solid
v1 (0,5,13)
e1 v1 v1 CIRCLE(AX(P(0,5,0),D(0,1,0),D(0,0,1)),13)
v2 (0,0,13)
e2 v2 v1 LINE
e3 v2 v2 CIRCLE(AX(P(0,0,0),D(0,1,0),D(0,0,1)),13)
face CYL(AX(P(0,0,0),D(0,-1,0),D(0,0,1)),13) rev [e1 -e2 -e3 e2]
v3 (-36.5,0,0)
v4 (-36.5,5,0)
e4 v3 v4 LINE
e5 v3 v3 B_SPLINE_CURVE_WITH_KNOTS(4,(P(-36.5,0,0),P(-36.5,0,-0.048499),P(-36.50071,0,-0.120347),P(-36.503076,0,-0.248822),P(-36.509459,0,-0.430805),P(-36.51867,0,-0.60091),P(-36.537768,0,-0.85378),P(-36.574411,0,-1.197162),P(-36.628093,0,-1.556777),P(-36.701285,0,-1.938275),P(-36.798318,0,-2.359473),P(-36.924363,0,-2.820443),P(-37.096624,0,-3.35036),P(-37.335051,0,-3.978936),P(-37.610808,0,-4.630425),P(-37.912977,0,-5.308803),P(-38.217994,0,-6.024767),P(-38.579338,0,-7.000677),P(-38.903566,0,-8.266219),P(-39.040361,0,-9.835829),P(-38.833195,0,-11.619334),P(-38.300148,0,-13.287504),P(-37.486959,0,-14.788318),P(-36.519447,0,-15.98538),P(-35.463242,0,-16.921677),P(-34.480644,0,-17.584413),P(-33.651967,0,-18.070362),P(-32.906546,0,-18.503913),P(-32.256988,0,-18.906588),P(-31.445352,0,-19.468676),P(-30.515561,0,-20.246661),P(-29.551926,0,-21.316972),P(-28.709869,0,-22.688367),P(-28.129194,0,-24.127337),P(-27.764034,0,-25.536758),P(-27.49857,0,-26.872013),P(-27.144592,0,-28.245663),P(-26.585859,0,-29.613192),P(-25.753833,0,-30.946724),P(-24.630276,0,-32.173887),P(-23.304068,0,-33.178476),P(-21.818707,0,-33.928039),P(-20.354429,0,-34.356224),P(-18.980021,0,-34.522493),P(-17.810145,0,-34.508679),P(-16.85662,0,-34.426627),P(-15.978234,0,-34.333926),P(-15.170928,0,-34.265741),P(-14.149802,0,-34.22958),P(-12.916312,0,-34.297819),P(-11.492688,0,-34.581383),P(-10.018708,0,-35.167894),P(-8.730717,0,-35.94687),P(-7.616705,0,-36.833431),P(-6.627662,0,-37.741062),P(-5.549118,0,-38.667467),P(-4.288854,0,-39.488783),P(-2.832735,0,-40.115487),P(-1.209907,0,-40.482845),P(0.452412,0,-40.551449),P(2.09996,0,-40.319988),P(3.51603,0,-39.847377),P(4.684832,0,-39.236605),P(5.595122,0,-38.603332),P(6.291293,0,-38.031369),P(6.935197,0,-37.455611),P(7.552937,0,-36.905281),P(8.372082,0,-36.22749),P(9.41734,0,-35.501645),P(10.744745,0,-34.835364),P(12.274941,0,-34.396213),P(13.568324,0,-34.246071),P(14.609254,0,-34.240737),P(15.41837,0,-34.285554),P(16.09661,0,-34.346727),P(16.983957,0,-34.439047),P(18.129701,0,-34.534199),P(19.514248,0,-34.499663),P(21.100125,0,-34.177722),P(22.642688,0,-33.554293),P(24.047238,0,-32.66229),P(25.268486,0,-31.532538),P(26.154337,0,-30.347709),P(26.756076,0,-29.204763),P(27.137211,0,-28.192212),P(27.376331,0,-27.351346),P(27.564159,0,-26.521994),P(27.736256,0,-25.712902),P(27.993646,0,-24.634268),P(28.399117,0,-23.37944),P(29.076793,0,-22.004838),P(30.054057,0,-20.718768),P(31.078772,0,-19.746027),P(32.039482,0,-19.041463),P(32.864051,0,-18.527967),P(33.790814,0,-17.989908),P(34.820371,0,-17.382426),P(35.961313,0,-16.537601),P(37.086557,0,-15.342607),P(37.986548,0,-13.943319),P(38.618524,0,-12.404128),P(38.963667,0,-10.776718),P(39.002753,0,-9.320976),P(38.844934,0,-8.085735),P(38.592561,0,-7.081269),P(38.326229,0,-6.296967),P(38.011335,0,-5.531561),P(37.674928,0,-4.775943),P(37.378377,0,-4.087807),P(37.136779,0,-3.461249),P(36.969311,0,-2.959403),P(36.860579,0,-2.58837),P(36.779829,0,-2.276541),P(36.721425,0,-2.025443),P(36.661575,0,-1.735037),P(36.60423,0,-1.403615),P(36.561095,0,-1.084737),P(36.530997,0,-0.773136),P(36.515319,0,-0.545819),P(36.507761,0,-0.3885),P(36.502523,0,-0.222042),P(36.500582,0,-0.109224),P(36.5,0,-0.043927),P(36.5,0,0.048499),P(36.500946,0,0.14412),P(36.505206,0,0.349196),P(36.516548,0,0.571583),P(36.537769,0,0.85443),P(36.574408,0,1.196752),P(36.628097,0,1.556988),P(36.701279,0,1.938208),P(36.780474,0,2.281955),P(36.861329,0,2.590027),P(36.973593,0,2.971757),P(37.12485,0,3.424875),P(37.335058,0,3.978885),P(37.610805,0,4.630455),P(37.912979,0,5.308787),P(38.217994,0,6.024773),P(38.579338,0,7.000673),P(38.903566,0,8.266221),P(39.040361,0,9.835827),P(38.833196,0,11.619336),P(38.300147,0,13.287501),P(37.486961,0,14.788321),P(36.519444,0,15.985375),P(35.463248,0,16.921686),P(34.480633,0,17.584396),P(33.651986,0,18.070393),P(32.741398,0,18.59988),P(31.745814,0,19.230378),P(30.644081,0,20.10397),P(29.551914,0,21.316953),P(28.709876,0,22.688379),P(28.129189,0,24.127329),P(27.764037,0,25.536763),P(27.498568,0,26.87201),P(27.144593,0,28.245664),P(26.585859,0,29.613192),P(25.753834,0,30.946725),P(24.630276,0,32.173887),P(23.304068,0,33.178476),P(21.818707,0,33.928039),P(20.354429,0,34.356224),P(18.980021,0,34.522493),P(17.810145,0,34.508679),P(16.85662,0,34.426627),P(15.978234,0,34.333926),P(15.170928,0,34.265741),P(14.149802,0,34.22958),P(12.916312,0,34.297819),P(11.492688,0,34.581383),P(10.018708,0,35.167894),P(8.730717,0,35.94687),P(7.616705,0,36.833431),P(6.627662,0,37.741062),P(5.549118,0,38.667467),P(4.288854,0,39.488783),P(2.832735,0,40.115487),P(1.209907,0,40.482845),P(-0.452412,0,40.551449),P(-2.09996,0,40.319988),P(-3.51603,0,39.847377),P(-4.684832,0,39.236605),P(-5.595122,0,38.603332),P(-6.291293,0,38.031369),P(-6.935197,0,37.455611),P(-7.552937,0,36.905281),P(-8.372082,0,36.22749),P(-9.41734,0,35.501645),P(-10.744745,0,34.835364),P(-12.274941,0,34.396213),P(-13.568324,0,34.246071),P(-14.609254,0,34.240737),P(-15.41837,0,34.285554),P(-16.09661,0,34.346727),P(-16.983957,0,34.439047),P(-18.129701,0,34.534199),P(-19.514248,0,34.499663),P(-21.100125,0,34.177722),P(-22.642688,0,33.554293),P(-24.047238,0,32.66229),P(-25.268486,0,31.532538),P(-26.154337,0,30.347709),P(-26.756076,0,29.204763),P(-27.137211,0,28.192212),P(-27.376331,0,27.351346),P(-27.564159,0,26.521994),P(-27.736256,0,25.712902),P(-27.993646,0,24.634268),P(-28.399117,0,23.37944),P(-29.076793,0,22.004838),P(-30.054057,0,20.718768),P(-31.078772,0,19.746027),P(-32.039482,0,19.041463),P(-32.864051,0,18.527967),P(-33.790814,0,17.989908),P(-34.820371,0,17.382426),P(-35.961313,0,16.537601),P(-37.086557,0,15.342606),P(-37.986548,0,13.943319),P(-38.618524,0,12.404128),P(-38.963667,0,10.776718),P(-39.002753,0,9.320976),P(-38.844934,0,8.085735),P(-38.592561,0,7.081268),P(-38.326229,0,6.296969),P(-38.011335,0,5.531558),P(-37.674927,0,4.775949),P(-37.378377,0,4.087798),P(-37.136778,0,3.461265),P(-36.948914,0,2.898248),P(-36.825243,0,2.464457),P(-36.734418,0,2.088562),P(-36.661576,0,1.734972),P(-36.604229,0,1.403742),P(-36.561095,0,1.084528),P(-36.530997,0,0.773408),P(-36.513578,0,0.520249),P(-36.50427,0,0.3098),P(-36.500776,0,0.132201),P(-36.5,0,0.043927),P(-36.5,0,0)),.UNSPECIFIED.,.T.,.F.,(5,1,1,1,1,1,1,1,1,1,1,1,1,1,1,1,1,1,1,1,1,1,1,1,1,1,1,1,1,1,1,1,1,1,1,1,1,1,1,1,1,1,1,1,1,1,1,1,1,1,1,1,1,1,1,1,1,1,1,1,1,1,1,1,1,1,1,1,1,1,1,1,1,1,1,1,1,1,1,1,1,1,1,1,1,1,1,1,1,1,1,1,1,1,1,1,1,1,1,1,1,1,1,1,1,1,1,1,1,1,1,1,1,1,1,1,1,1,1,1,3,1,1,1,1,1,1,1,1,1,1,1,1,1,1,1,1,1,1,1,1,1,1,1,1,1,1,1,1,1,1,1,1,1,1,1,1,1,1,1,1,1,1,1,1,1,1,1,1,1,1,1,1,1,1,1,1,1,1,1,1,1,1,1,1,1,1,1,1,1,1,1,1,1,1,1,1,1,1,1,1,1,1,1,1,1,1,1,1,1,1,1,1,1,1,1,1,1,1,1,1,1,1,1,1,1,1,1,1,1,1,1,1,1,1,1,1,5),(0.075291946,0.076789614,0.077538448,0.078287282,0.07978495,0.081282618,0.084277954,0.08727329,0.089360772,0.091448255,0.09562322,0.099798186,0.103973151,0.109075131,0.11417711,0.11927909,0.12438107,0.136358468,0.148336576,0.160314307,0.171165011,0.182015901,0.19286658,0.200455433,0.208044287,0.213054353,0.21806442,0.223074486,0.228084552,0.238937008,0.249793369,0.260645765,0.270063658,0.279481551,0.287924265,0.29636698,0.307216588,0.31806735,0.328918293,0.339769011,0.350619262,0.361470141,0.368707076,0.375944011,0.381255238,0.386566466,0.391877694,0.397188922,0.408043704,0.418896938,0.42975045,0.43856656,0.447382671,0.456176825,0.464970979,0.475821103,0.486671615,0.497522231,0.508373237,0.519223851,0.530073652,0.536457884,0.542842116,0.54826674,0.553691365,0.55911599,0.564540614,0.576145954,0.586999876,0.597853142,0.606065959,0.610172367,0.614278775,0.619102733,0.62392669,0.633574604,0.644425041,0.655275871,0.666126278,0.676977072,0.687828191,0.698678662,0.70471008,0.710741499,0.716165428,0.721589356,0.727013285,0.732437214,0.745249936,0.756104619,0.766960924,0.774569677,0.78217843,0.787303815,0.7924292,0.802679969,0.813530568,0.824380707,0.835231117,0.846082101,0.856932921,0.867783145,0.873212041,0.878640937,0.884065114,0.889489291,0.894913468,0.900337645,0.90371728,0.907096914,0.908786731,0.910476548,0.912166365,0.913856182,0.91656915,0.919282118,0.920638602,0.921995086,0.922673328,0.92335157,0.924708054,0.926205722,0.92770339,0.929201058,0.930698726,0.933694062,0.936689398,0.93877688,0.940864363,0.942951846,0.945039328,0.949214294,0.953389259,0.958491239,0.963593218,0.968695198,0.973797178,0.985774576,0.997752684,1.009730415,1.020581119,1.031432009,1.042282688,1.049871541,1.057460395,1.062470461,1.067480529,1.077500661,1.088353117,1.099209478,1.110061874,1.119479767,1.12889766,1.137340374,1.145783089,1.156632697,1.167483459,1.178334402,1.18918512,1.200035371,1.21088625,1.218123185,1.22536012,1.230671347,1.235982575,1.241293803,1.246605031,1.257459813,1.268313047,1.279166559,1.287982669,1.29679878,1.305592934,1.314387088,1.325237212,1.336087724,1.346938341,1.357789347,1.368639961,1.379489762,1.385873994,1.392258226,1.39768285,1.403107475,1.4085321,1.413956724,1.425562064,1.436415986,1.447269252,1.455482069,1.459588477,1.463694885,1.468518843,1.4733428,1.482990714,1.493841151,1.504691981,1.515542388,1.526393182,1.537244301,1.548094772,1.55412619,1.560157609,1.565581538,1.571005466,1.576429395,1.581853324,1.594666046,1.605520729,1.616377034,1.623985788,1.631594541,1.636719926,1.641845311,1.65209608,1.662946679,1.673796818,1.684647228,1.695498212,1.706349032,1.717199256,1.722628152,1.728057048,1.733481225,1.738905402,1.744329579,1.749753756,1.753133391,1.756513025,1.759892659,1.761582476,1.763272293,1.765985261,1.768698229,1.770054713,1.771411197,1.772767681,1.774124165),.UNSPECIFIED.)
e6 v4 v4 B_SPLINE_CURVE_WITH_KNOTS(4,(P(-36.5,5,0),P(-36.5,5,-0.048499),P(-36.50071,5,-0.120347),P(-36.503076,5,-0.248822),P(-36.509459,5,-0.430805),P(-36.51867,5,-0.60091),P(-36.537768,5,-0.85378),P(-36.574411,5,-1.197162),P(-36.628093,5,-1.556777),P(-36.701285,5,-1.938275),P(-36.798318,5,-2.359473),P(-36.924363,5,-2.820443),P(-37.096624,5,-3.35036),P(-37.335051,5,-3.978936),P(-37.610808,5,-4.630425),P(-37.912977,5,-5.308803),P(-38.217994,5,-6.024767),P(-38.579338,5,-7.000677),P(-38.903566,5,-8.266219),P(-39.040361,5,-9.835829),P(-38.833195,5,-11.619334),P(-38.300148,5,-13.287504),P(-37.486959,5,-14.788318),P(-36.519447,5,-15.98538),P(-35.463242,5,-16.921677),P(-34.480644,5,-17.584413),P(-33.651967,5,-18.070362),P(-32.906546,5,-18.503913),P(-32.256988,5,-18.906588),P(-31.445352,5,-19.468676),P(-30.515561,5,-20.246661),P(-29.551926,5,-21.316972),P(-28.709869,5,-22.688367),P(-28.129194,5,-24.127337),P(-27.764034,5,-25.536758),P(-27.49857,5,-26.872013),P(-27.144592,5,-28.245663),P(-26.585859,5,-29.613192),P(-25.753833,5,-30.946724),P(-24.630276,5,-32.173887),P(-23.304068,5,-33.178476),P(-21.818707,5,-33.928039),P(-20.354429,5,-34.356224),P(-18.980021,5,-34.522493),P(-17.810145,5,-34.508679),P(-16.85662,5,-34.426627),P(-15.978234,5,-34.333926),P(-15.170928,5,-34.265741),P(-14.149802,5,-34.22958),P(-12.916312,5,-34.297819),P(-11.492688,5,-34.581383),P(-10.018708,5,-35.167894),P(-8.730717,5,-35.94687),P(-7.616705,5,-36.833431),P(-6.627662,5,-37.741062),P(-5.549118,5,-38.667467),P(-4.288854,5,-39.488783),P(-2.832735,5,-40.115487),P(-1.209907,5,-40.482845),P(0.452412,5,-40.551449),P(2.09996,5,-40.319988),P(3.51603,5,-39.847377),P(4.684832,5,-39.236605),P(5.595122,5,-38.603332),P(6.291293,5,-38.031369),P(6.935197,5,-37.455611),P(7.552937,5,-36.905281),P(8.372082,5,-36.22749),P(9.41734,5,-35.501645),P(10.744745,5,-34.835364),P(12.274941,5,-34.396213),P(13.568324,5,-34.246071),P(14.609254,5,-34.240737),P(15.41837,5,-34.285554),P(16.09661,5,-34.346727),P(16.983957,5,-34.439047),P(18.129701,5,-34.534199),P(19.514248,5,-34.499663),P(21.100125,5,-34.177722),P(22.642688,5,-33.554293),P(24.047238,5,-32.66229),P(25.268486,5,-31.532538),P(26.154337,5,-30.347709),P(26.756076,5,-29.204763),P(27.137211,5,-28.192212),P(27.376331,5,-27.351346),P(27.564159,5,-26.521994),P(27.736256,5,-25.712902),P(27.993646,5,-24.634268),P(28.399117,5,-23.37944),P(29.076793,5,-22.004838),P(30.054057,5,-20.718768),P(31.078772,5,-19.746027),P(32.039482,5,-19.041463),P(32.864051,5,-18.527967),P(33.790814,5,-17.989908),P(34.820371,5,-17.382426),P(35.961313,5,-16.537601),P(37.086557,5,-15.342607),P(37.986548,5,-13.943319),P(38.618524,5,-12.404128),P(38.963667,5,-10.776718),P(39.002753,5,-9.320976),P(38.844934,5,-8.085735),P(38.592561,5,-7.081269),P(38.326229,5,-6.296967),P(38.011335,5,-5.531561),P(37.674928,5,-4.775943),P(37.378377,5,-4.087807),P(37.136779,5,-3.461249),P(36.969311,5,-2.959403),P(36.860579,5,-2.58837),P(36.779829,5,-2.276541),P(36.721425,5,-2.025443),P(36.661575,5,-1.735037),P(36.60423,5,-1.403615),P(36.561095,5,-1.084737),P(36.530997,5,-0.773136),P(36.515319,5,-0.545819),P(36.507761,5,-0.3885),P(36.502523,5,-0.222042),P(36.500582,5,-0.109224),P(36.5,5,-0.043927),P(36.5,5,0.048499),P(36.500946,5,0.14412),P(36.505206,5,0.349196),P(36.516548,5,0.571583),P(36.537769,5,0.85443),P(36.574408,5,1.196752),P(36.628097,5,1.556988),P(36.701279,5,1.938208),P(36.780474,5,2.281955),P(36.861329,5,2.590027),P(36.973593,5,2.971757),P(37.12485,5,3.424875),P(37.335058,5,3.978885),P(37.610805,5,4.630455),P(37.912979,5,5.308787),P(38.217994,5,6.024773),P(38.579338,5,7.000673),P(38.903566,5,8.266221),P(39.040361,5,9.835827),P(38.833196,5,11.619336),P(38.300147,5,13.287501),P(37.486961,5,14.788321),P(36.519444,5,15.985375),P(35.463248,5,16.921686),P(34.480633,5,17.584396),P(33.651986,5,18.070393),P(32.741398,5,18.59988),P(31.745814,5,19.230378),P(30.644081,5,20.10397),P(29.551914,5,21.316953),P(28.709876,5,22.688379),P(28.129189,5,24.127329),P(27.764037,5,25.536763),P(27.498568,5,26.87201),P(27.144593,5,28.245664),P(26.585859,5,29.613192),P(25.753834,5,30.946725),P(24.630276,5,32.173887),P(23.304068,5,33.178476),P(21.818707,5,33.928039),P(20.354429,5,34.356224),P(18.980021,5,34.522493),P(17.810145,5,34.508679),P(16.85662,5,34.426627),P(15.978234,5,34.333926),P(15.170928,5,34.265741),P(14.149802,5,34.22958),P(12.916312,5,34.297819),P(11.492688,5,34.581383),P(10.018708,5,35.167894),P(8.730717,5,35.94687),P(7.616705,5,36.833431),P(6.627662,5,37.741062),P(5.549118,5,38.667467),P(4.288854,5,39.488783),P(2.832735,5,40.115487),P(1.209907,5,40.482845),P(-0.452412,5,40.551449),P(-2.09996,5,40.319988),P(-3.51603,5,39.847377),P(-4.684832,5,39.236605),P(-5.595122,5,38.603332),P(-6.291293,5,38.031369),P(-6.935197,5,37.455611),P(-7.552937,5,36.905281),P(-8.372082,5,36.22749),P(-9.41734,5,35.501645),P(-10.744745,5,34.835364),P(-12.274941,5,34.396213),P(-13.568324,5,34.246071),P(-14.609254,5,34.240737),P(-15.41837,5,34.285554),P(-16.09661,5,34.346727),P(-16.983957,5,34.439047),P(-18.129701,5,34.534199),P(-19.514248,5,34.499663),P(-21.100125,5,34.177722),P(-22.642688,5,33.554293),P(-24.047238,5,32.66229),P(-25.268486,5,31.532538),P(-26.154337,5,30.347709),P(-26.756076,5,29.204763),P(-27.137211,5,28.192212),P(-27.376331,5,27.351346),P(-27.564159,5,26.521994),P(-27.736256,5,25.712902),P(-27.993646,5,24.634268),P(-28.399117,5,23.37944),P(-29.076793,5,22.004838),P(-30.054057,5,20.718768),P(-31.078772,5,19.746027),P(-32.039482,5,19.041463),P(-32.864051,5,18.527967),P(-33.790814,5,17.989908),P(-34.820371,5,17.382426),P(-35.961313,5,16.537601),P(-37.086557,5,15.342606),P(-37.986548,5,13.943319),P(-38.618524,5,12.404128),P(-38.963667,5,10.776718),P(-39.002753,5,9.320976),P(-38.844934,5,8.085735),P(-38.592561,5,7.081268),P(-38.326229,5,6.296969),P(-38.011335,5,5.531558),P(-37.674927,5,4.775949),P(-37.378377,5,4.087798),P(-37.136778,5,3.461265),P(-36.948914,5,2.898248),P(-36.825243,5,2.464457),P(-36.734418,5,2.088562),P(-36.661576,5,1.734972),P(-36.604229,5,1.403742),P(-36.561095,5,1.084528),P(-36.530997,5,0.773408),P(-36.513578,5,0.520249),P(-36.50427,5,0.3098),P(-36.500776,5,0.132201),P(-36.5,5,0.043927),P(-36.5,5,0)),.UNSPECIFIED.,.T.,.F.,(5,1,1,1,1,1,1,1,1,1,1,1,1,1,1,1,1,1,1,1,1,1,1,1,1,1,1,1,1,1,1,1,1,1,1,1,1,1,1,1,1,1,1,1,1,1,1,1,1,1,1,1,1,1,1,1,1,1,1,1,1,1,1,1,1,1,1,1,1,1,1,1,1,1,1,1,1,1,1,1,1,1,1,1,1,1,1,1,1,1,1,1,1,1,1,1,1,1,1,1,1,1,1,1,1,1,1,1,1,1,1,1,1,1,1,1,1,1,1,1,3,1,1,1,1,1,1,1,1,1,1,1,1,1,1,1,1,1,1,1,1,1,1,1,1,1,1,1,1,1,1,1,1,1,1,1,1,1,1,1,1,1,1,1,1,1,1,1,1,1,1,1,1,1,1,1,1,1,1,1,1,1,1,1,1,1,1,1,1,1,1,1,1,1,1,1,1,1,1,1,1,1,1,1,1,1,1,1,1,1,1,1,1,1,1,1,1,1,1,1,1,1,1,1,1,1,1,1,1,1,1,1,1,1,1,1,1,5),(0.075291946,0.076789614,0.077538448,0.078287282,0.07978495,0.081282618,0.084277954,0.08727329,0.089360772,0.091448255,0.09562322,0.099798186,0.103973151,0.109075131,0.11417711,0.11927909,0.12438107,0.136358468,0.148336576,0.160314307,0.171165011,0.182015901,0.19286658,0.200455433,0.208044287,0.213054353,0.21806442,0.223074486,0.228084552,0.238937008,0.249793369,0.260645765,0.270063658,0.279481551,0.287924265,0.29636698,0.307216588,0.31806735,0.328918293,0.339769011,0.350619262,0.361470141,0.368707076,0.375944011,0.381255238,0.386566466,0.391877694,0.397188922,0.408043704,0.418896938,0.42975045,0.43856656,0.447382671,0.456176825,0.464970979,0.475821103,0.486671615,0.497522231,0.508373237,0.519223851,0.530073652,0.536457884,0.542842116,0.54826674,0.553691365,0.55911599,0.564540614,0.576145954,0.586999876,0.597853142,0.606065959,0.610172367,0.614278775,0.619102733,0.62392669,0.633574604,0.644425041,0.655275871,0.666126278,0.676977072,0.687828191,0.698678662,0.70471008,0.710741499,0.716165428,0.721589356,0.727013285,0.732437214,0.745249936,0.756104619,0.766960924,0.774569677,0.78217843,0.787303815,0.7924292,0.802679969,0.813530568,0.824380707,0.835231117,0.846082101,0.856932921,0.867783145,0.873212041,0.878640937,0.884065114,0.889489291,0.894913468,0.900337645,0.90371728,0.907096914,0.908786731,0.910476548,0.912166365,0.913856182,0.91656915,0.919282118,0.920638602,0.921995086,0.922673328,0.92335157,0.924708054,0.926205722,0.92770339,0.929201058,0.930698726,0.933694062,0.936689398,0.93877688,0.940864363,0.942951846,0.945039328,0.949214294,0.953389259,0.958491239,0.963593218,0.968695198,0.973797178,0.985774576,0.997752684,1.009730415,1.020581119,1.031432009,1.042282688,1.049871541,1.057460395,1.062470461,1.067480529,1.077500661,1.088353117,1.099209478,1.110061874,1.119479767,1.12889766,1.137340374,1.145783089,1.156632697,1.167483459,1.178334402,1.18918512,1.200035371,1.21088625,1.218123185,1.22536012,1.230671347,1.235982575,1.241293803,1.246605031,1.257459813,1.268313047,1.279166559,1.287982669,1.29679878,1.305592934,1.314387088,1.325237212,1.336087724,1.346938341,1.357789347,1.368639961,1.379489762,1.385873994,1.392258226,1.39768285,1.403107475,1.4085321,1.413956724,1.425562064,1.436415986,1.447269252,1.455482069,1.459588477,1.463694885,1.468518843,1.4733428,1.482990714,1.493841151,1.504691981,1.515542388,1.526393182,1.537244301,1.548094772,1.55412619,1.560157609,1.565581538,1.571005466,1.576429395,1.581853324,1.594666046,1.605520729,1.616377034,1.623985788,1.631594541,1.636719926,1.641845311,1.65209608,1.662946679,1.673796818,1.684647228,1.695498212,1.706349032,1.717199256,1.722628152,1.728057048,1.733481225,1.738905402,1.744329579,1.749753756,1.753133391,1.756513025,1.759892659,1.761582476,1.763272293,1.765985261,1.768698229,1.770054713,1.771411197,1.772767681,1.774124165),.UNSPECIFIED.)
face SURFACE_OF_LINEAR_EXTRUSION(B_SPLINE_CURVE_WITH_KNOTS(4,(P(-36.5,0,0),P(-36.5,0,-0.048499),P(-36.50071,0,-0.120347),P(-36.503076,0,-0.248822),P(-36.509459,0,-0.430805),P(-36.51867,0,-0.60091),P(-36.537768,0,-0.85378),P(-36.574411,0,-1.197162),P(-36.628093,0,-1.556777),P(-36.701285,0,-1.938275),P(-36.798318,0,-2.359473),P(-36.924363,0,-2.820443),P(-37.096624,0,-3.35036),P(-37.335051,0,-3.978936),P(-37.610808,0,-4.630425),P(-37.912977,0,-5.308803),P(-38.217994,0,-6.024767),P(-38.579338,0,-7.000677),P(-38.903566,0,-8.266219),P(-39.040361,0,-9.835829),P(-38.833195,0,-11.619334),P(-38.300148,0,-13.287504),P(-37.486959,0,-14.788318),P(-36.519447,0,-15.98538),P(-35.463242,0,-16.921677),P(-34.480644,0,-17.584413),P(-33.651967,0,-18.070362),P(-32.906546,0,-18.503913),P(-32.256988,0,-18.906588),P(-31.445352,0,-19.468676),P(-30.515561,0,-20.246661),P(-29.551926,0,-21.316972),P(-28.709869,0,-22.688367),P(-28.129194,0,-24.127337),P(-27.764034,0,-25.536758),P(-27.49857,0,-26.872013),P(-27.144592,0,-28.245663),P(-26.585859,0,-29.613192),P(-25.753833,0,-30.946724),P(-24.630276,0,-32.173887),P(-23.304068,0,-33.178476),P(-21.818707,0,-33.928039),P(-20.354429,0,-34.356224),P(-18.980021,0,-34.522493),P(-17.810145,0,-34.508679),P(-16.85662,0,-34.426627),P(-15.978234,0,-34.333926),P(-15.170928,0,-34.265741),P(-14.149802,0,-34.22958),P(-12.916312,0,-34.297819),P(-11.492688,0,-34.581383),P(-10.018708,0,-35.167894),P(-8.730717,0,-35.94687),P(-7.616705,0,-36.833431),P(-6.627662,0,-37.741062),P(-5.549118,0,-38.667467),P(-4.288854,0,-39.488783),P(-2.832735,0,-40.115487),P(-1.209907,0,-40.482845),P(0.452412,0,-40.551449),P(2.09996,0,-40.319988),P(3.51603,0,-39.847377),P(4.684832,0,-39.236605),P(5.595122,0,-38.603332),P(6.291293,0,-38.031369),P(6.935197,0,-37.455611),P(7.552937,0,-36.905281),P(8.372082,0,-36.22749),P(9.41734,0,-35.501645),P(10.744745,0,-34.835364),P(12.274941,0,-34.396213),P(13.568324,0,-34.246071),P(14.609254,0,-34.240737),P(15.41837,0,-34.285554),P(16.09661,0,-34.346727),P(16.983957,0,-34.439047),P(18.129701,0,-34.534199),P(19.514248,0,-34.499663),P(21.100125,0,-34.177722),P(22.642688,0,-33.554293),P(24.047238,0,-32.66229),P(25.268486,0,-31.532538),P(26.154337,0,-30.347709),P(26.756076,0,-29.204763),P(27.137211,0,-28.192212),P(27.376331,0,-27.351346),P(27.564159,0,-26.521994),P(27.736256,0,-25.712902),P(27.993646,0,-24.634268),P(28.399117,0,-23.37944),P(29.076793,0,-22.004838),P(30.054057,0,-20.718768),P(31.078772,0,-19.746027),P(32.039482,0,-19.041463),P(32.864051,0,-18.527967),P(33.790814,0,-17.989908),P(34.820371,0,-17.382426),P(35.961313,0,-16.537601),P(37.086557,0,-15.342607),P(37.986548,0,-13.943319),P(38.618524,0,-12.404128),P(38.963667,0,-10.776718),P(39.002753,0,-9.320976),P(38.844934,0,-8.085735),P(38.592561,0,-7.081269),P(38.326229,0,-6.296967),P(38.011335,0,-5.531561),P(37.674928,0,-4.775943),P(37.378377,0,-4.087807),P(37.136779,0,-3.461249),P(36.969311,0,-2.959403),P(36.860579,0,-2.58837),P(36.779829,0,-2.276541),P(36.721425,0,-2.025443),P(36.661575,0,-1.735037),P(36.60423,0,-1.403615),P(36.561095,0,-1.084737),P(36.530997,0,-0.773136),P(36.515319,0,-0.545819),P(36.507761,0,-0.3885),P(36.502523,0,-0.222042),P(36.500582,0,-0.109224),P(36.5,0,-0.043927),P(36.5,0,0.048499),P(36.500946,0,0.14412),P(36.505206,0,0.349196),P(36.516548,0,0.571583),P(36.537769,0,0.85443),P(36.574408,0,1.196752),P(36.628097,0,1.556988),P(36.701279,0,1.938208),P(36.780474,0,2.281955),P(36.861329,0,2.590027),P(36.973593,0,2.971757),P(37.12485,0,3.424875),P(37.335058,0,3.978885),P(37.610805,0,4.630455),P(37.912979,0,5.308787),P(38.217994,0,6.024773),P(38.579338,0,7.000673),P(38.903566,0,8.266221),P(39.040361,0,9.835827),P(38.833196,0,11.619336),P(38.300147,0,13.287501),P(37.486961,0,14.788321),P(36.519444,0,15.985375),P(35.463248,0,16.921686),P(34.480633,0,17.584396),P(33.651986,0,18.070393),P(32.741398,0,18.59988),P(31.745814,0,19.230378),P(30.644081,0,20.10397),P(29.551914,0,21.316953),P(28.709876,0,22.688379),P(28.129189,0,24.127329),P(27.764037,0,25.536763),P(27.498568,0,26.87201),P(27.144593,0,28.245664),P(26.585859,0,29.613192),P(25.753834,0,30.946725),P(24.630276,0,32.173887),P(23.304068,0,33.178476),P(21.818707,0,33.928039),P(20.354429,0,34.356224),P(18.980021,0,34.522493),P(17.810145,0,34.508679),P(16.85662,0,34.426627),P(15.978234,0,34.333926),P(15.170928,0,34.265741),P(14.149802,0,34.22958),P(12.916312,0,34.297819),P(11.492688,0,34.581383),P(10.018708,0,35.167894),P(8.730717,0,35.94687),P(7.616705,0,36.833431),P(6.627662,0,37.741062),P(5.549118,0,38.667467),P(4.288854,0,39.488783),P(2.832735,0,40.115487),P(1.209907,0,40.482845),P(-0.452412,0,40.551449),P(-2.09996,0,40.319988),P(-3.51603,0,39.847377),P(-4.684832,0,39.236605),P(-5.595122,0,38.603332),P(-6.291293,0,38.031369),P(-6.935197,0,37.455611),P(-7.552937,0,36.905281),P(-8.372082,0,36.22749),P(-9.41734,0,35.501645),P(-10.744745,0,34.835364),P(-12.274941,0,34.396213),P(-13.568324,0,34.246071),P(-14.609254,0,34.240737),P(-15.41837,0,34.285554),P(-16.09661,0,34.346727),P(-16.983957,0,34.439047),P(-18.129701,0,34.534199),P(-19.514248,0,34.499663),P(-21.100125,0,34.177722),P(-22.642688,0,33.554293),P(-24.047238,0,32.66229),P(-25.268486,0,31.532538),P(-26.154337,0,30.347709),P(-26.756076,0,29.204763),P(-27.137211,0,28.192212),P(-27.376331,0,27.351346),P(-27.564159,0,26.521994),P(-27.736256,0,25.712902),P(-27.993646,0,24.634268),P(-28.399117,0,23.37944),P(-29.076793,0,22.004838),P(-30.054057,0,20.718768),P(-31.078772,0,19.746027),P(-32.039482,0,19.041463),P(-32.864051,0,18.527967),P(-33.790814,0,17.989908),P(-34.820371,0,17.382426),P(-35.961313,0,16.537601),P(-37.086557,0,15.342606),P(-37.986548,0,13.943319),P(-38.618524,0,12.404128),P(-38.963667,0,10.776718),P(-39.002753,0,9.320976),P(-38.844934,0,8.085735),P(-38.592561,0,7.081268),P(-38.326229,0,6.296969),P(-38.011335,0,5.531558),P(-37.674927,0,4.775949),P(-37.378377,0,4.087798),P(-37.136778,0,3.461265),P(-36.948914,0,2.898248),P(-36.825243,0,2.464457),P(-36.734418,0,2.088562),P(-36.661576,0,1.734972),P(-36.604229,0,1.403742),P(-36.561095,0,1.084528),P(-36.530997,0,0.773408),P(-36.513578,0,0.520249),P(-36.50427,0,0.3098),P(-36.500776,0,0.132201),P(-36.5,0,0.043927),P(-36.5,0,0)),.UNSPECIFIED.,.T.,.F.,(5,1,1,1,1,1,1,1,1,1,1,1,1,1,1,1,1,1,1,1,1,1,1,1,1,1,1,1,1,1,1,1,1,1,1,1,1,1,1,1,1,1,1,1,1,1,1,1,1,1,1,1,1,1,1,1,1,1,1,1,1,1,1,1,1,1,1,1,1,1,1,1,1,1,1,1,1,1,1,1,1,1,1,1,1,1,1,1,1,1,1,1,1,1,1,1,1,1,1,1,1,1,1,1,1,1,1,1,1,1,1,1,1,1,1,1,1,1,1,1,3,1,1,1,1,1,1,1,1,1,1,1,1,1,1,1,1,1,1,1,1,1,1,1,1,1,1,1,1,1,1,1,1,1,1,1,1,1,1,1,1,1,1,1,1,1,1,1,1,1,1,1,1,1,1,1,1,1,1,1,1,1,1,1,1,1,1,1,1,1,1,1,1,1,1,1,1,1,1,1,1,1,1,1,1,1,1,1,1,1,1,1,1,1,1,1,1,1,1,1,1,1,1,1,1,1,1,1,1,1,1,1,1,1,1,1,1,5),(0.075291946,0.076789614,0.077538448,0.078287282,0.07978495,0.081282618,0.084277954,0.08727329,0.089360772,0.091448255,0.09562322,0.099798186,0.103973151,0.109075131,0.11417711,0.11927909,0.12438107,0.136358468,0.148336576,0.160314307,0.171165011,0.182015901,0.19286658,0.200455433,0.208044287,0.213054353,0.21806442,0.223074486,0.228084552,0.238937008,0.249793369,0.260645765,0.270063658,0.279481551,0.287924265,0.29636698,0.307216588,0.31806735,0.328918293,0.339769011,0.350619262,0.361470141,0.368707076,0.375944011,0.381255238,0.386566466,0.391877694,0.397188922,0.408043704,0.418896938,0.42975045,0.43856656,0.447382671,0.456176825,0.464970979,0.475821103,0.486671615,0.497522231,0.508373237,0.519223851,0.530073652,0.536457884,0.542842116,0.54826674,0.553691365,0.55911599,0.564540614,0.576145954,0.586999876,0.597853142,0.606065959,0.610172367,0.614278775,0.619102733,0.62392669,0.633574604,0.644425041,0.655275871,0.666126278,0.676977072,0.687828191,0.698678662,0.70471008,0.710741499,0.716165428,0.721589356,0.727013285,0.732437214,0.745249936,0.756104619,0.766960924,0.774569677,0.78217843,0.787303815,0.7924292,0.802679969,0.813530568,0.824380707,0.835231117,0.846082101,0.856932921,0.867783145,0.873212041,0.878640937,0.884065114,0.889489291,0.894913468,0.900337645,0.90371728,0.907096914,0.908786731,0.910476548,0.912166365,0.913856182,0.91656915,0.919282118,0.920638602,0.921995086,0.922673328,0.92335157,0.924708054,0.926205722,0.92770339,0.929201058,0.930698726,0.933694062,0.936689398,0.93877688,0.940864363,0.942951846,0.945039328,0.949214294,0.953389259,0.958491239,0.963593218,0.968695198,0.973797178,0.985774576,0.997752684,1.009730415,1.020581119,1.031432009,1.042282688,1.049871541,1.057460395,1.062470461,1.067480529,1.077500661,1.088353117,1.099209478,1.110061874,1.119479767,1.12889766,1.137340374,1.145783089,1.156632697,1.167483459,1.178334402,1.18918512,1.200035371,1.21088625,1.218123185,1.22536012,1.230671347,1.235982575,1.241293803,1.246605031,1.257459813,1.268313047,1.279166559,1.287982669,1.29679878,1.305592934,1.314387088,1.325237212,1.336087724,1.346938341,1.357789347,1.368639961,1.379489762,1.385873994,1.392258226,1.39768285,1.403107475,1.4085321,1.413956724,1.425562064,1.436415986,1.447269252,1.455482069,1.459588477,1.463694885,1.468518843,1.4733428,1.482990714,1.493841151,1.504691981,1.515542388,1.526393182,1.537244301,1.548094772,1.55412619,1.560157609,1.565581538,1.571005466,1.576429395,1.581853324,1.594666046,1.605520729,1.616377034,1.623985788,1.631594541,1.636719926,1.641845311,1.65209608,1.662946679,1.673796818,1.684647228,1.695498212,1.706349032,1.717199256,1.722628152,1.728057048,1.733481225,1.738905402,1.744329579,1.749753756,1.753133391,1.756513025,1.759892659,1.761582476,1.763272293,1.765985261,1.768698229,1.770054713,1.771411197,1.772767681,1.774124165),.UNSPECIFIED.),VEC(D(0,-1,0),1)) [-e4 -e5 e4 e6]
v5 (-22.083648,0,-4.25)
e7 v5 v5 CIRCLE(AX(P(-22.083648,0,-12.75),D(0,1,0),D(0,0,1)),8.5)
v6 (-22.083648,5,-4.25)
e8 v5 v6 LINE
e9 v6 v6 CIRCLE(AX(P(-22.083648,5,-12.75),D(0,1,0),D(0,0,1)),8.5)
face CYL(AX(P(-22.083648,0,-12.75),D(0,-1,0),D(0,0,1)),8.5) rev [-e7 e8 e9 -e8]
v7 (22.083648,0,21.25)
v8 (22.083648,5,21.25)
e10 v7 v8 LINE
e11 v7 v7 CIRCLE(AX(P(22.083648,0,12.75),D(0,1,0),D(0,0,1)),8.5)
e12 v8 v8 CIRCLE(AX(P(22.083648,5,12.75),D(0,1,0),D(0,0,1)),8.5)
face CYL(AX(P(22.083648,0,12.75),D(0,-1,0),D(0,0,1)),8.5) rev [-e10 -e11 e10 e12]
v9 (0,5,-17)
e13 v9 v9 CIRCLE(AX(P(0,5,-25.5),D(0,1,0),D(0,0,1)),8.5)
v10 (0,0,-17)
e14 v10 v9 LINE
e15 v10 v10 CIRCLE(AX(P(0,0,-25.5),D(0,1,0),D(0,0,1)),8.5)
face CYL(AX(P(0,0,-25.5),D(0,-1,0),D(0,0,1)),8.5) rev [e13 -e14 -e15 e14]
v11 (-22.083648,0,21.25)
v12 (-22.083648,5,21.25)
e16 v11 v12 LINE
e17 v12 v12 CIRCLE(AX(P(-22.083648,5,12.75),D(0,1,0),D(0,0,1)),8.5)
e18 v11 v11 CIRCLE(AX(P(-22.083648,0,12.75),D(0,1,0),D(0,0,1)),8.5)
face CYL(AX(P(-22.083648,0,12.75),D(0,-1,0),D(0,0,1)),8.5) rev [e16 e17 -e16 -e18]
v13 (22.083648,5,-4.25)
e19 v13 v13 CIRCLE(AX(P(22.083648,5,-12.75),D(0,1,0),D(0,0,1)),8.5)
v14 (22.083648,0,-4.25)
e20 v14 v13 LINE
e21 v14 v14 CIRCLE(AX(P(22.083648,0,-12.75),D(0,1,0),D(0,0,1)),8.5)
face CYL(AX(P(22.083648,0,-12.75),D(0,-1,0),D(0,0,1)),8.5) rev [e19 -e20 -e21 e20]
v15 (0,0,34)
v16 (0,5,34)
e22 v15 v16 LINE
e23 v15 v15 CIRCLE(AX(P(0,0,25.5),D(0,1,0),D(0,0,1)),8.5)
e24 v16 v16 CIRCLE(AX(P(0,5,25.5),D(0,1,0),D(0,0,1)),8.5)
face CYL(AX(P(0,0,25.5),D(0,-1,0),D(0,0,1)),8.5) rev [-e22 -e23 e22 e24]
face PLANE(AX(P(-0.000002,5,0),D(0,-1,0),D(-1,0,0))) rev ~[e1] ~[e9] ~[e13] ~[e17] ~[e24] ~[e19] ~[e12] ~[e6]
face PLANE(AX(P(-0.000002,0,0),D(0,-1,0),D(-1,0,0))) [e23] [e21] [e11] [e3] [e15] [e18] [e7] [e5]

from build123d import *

# Parameters (mm, degrees)
SKETCH1_R           = 13
SKETCH1_R_2         = 8.5
BOSS_EXTRUDE1_DEPTH = 5


with BuildPart() as part:
    # Sketch1 → Boss-Extrude1 (new body)
    with BuildSketch(Plane(origin=(0, 0, 0), x_dir=(1, 0, 0), z_dir=(0, 1, 0))):
        with BuildLine():
            add(Edge.make_bspline(
                [(36.5, 0), (36.5, -0.048499305), (36.500946474, -0.144120136), (36.505205639, -0.349195993), (36.516548144, -0.571582738), (36.53776893, -0.854430115), (36.574407998, -1.196752002), (36.62809738, -1.556988295), (36.70127876, -1.938208043), (36.78047365, -2.281954505), (36.861329003, -2.590026625), (36.973593296, -2.971756615), (37.124850001, -3.424875263), (37.335057521, -3.978884819), (37.610804689, -4.630454515), (37.912979272, -5.308786827), (38.217993537, -6.024773331), (38.579337976, -7.000673113), (38.903566381, -8.266221267), (39.040360932, -9.835827251), (38.833195825, -11.619336074), (38.300146641, -13.287501244), (37.486961222, -14.788321278), (36.519443961, -15.985374971), (35.463247749, -16.921686084), (34.480633006, -17.584395869), (33.651986164, -18.070393448), (32.741397785, -18.599880286), (31.745814237, -19.23037768), (30.644081106, -20.103969946), (29.551914438, -21.316953148), (28.709876259, -22.688378726), (28.129188952, -24.127329092), (27.764036764, -25.53676255), (27.498568237, -26.872010136), (27.14459296, -28.24566423), (26.585858616, -29.613191611), (25.753833767, -30.946724523), (24.630275661, -32.173887031), (23.304067671, -33.178476098), (21.818707229, -33.928039056), (20.354428633, -34.356223626), (18.980021188, -34.522492919), (17.810145148, -34.508679014), (16.856619883, -34.426627197), (15.978233577, -34.333926373), (15.170927755, -34.265741371), (14.149802015, -34.229580128), (12.916311546, -34.297819177), (11.49268827, -34.581382628), (10.018707632, -35.167894044), (8.730716825, -35.94686999), (7.616704888, -36.833430943), (6.627661642, -37.741061624), (5.549118095, -38.667467053), (4.288853719, -39.488783224), (2.83273482, -40.115486753), (1.209906645, -40.482844808), (-0.452411505, -40.551448925), (-2.099959875, -40.319988007), (-3.516029788, -39.847376882), (-4.684831629, -39.236604984), (-5.595122009, -38.603332332), (-6.291293195, -38.03136891), (-6.935196982, -37.455611034), (-7.552937159, -36.905280935), (-8.3720822, -36.227490452), (-9.417339699, -35.501645102), (-10.744745036, -34.835364198), (-12.274940897, -34.396213159), (-13.568324156, -34.246071291), (-14.609253635, -34.240736665), (-15.418369646, -34.285553755), (-16.096609715, -34.346726816), (-16.983957337, -34.439047454), (-18.129700574, -34.534198807), (-19.514247662, -34.499663354), (-21.100124923, -34.177722278), (-22.642688121, -33.554292595), (-24.047237509, -32.662289917), (-25.268485598, -31.532537595), (-26.154336533, -30.347709032), (-26.756076077, -29.20476342), (-27.137211283, -28.192212286), (-27.376331213, -27.351346043), (-27.564158904, -26.521994318), (-27.736255611, -25.71290243), (-27.9936462, -24.634267957), (-28.399117079, -23.379440462), (-29.076792687, -22.004837755), (-30.054056647, -20.718767709), (-31.078771932, -19.746027017), (-32.039482, -19.04146275), (-32.864050638, -18.52796692), (-33.790814113, -17.989908183), (-34.820371489, -17.38242567), (-35.961313043, -16.537601472), (-37.086556652, -15.342606474), (-37.986548491, -13.943319085), (-38.618524242, -12.404128407), (-38.963667013, -10.776717844), (-39.002753109, -9.320975979), (-38.844934454, -8.085734909), (-38.592561063, -7.081267912), (-38.326228914, -6.29696863), (-38.011335485, -5.531557624), (-37.674927383, -4.77594876), (-37.378377228, -4.087797522), (-37.136778411, -3.461265107), (-36.948914251, -2.898248212), (-36.825242681, -2.464456921), (-36.734418474, -2.088562142), (-36.661575892, -1.734972023), (-36.604229284, -1.403741901), (-36.561095025, -1.084527578), (-36.530996656, -0.773408388), (-36.51357757, -0.520248866), (-36.504270411, -0.30979969), (-36.50077644, -0.13220069), (-36.5, -0.043927313), (-36.5, 0)],
                knots=[0.075291946, 0.075291946, 0.075291946, 0.075291946, 0.075291946, 0.076789614, 0.078287282, 0.07978495, 0.081282618, 0.084277954, 0.08727329, 0.089360772, 0.091448255, 0.093535738, 0.09562322, 0.099798186, 0.103973151, 0.109075131, 0.11417711, 0.11927909, 0.12438107, 0.136358468, 0.148336576, 0.160314307, 0.171165011, 0.182015901, 0.19286658, 0.200455433, 0.208044287, 0.213054353, 0.21806442, 0.228084552, 0.238937008, 0.249793369, 0.260645765, 0.270063658, 0.279481551, 0.287924265, 0.29636698, 0.307216588, 0.31806735, 0.328918293, 0.339769011, 0.350619262, 0.361470141, 0.368707076, 0.375944011, 0.381255238, 0.386566466, 0.391877694, 0.397188922, 0.408043704, 0.418896938, 0.42975045, 0.43856656, 0.447382671, 0.456176825, 0.464970979, 0.475821103, 0.486671615, 0.497522231, 0.508373237, 0.519223851, 0.530073652, 0.536457884, 0.542842116, 0.54826674, 0.553691365, 0.55911599, 0.564540614, 0.576145954, 0.586999876, 0.597853142, 0.606065959, 0.610172367, 0.614278775, 0.619102733, 0.62392669, 0.633574604, 0.644425041, 0.655275871, 0.666126278, 0.676977072, 0.687828191, 0.698678662, 0.70471008, 0.710741499, 0.716165428, 0.721589356, 0.727013285, 0.732437214, 0.745249936, 0.756104619, 0.766960924, 0.774569677, 0.78217843, 0.787303815, 0.7924292, 0.802679969, 0.813530568, 0.824380707, 0.835231117, 0.846082101, 0.856932921, 0.867783145, 0.873212041, 0.878640937, 0.884065114, 0.889489291, 0.894913468, 0.900337645, 0.90371728, 0.907096914, 0.910476548, 0.912166365, 0.913856182, 0.91656915, 0.919282118, 0.920638602, 0.921995086, 0.92335157, 0.924708054, 0.924708054, 0.924708054, 0.924708054, 0.924708054], degree=4))
            add(Edge.make_bspline(
                [(-36.5, 0), (-36.5, 0.048499305), (-36.500709854, 0.120347377), (-36.503076032, 0.248821581), (-36.509459135, 0.430805007), (-36.518670462, 0.600909868), (-36.537767816, 0.853780444), (-36.574410609, 1.197161726), (-36.628092737, 1.556776711), (-36.70128534, 1.938275134), (-36.798317842, 2.359473017), (-36.924362877, 2.820443145), (-37.096624147, 3.350360221), (-37.335050856, 3.978935622), (-37.610808448, 4.630425207), (-37.912977339, 5.30880264), (-38.217994227, 6.024766679), (-38.579337761, 7.000676775), (-38.903566296, 8.266218611), (-39.040361318, 9.835829449), (-38.83319516, 11.619334121), (-38.300147751, 13.287503552), (-37.486959297, 14.788317854), (-36.51944727, 15.985380477), (-35.463241983, 16.921676737), (-34.480643682, 17.584412987), (-33.651966589, 18.070362205), (-32.906545987, 18.503912569), (-32.256987734, 18.906587709), (-31.445352143, 19.468675663), (-30.515561037, 20.246660688), (-29.551926436, 21.316972253), (-28.709868851, 22.688366931), (-28.129194123, 24.127337321), (-27.764033611, 25.53675754), (-27.498569959, 26.872012871), (-27.144592106, 28.24566287), (-26.585859124, 29.613192421), (-25.753833457, 30.946724029), (-24.630275847, 32.173887326), (-23.304067555, 33.178475912), (-21.818707307, 33.928039181), (-20.354428582, 34.356223545), (-18.980021222, 34.522492971), (-17.810145124, 34.508678977), (-16.856619896, 34.426627224), (-15.978233572, 34.333926353), (-15.170927757, 34.265741379), (-14.149802015, 34.229580123), (-12.916311545, 34.29781918), (-11.492688271, 34.581382626), (-10.018707631, 35.167894044), (-8.730716827, 35.94686999), (-7.616704884, 36.833430941), (-6.627661644, 37.741061623), (-5.549118097, 38.667467054), (-4.288853718, 39.488783222), (-2.832734821, 40.115486753), (-1.209906645, 40.482844807), (0.452411504, 40.551448925), (2.099959876, 40.319988007), (3.516029787, 39.847376881), (4.68483163, 39.236604984), (5.595122006, 38.60333233), (6.291293204, 38.031368915), (6.935196973, 37.455611027), (7.552937162, 36.905280937), (8.372082197, 36.227490449), (9.417339701, 35.501645103), (10.744745035, 34.835364195), (12.274940897, 34.396213161), (13.568324156, 34.246071287), (14.609253634, 34.240736671), (15.418369647, 34.285553746), (16.096609716, 34.346726821), (16.983957335, 34.439047449), (18.129700573, 34.534198813), (19.514247663, 34.499663349), (21.100124923, 34.17772228), (22.642688121, 33.554292593), (24.047237508, 32.662289917), (25.268485599, 31.532537594), (26.154336531, 30.347709032), (26.756076079, 29.204763419), (27.137211278, 28.192212287), (27.376331225, 27.351346041), (27.564158894, 26.521994319), (27.736255613, 25.712902429), (27.993646196, 24.634267958), (28.399117082, 23.37944046), (29.076792686, 22.004837756), (30.054056648, 20.718767707), (31.078771932, 19.74602702), (32.039481999, 19.041462745), (32.864050639, 18.527966924), (33.790814111, 17.98990817), (34.82037149, 17.382425694), (35.961313043, 16.537601441), (37.086556651, 15.342606512), (37.986548494, 13.94331903), (38.618524236, 12.404128495), (38.963667022, 10.77671769), (39.002753094, 9.320976227), (38.844934477, 8.085734521), (38.592561023, 7.081268579), (38.32622901, 6.296967044), (38.011335306, 5.531560737), (37.674927708, 4.775943023), (37.37837668, 4.087807125), (37.136779297, 3.461249479), (36.969310994, 2.959402658), (36.860578901, 2.58836954), (36.779829118, 2.276540793), (36.721424729, 2.02544297), (36.661575157, 1.735036695), (36.604229765, 1.403615039), (36.561094779, 1.084737296), (36.530996745, 0.773135873), (36.515319468, 0.545818588), (36.507760589, 0.388500267), (36.502523425, 0.222042212), (36.500582329, 0.109223844), (36.5, 0.043927313), (36.5, 0)],
                knots=[0.075291946, 0.075291946, 0.075291946, 0.075291946, 0.075291946, 0.076789614, 0.077538448, 0.078287282, 0.07978495, 0.081282618, 0.084277954, 0.08727329, 0.089360772, 0.091448255, 0.09562322, 0.099798186, 0.103973151, 0.109075131, 0.11417711, 0.11927909, 0.12438107, 0.136358468, 0.148336576, 0.160314307, 0.171165011, 0.182015901, 0.19286658, 0.200455433, 0.208044287, 0.213054353, 0.21806442, 0.223074486, 0.228084552, 0.238937008, 0.249793369, 0.260645765, 0.270063658, 0.279481551, 0.287924265, 0.29636698, 0.307216588, 0.31806735, 0.328918293, 0.339769011, 0.350619262, 0.361470141, 0.368707076, 0.375944011, 0.381255238, 0.386566466, 0.391877694, 0.397188922, 0.408043704, 0.418896938, 0.42975045, 0.43856656, 0.447382671, 0.456176825, 0.464970979, 0.475821103, 0.486671615, 0.497522231, 0.508373237, 0.519223851, 0.530073652, 0.536457884, 0.542842116, 0.54826674, 0.553691365, 0.55911599, 0.564540614, 0.576145954, 0.586999876, 0.597853142, 0.606065959, 0.610172367, 0.614278775, 0.619102733, 0.62392669, 0.633574604, 0.644425041, 0.655275871, 0.666126278, 0.676977072, 0.687828191, 0.698678662, 0.70471008, 0.710741499, 0.716165428, 0.721589356, 0.727013285, 0.732437214, 0.745249936, 0.756104619, 0.766960924, 0.774569677, 0.78217843, 0.787303815, 0.7924292, 0.802679969, 0.813530568, 0.824380707, 0.835231117, 0.846082101, 0.856932921, 0.867783145, 0.873212041, 0.878640937, 0.884065114, 0.889489291, 0.894913468, 0.900337645, 0.90371728, 0.907096914, 0.908786731, 0.910476548, 0.912166365, 0.913856182, 0.91656915, 0.919282118, 0.920638602, 0.921995086, 0.922673328, 0.92335157, 0.924708054, 0.924708054, 0.924708054, 0.924708054, 0.924708054], degree=4))
        make_face()
        with Locations(Location((0, 0, 0), (0, 0, 270))):
            Circle(SKETCH1_R, mode=Mode.SUBTRACT)
        with Locations(Location((0, 25.5, 0), (0, 0, 270))):
            Circle(SKETCH1_R_2, mode=Mode.SUBTRACT)
        with Locations(Location((22.083647797, 12.75, 0), (0, 0, 270))):
            Circle(SKETCH1_R_2, mode=Mode.SUBTRACT)
        with Locations(Location((22.083647797, -12.75, 0), (0, 0, 270))):
            Circle(SKETCH1_R_2, mode=Mode.SUBTRACT)
        with Locations(Location((0, -25.5, 0), (0, 0, 270))):
            Circle(SKETCH1_R_2, mode=Mode.SUBTRACT)
        with Locations(Location((-22.083647797, -12.75, 0), (0, 0, 270))):
            Circle(SKETCH1_R_2, mode=Mode.SUBTRACT)
        with Locations(Location((-22.083647797, 12.75, 0), (0, 0, 270))):
            Circle(SKETCH1_R_2, mode=Mode.SUBTRACT)
    extrude(amount=BOSS_EXTRUDE1_DEPTH)


solid = part.part
